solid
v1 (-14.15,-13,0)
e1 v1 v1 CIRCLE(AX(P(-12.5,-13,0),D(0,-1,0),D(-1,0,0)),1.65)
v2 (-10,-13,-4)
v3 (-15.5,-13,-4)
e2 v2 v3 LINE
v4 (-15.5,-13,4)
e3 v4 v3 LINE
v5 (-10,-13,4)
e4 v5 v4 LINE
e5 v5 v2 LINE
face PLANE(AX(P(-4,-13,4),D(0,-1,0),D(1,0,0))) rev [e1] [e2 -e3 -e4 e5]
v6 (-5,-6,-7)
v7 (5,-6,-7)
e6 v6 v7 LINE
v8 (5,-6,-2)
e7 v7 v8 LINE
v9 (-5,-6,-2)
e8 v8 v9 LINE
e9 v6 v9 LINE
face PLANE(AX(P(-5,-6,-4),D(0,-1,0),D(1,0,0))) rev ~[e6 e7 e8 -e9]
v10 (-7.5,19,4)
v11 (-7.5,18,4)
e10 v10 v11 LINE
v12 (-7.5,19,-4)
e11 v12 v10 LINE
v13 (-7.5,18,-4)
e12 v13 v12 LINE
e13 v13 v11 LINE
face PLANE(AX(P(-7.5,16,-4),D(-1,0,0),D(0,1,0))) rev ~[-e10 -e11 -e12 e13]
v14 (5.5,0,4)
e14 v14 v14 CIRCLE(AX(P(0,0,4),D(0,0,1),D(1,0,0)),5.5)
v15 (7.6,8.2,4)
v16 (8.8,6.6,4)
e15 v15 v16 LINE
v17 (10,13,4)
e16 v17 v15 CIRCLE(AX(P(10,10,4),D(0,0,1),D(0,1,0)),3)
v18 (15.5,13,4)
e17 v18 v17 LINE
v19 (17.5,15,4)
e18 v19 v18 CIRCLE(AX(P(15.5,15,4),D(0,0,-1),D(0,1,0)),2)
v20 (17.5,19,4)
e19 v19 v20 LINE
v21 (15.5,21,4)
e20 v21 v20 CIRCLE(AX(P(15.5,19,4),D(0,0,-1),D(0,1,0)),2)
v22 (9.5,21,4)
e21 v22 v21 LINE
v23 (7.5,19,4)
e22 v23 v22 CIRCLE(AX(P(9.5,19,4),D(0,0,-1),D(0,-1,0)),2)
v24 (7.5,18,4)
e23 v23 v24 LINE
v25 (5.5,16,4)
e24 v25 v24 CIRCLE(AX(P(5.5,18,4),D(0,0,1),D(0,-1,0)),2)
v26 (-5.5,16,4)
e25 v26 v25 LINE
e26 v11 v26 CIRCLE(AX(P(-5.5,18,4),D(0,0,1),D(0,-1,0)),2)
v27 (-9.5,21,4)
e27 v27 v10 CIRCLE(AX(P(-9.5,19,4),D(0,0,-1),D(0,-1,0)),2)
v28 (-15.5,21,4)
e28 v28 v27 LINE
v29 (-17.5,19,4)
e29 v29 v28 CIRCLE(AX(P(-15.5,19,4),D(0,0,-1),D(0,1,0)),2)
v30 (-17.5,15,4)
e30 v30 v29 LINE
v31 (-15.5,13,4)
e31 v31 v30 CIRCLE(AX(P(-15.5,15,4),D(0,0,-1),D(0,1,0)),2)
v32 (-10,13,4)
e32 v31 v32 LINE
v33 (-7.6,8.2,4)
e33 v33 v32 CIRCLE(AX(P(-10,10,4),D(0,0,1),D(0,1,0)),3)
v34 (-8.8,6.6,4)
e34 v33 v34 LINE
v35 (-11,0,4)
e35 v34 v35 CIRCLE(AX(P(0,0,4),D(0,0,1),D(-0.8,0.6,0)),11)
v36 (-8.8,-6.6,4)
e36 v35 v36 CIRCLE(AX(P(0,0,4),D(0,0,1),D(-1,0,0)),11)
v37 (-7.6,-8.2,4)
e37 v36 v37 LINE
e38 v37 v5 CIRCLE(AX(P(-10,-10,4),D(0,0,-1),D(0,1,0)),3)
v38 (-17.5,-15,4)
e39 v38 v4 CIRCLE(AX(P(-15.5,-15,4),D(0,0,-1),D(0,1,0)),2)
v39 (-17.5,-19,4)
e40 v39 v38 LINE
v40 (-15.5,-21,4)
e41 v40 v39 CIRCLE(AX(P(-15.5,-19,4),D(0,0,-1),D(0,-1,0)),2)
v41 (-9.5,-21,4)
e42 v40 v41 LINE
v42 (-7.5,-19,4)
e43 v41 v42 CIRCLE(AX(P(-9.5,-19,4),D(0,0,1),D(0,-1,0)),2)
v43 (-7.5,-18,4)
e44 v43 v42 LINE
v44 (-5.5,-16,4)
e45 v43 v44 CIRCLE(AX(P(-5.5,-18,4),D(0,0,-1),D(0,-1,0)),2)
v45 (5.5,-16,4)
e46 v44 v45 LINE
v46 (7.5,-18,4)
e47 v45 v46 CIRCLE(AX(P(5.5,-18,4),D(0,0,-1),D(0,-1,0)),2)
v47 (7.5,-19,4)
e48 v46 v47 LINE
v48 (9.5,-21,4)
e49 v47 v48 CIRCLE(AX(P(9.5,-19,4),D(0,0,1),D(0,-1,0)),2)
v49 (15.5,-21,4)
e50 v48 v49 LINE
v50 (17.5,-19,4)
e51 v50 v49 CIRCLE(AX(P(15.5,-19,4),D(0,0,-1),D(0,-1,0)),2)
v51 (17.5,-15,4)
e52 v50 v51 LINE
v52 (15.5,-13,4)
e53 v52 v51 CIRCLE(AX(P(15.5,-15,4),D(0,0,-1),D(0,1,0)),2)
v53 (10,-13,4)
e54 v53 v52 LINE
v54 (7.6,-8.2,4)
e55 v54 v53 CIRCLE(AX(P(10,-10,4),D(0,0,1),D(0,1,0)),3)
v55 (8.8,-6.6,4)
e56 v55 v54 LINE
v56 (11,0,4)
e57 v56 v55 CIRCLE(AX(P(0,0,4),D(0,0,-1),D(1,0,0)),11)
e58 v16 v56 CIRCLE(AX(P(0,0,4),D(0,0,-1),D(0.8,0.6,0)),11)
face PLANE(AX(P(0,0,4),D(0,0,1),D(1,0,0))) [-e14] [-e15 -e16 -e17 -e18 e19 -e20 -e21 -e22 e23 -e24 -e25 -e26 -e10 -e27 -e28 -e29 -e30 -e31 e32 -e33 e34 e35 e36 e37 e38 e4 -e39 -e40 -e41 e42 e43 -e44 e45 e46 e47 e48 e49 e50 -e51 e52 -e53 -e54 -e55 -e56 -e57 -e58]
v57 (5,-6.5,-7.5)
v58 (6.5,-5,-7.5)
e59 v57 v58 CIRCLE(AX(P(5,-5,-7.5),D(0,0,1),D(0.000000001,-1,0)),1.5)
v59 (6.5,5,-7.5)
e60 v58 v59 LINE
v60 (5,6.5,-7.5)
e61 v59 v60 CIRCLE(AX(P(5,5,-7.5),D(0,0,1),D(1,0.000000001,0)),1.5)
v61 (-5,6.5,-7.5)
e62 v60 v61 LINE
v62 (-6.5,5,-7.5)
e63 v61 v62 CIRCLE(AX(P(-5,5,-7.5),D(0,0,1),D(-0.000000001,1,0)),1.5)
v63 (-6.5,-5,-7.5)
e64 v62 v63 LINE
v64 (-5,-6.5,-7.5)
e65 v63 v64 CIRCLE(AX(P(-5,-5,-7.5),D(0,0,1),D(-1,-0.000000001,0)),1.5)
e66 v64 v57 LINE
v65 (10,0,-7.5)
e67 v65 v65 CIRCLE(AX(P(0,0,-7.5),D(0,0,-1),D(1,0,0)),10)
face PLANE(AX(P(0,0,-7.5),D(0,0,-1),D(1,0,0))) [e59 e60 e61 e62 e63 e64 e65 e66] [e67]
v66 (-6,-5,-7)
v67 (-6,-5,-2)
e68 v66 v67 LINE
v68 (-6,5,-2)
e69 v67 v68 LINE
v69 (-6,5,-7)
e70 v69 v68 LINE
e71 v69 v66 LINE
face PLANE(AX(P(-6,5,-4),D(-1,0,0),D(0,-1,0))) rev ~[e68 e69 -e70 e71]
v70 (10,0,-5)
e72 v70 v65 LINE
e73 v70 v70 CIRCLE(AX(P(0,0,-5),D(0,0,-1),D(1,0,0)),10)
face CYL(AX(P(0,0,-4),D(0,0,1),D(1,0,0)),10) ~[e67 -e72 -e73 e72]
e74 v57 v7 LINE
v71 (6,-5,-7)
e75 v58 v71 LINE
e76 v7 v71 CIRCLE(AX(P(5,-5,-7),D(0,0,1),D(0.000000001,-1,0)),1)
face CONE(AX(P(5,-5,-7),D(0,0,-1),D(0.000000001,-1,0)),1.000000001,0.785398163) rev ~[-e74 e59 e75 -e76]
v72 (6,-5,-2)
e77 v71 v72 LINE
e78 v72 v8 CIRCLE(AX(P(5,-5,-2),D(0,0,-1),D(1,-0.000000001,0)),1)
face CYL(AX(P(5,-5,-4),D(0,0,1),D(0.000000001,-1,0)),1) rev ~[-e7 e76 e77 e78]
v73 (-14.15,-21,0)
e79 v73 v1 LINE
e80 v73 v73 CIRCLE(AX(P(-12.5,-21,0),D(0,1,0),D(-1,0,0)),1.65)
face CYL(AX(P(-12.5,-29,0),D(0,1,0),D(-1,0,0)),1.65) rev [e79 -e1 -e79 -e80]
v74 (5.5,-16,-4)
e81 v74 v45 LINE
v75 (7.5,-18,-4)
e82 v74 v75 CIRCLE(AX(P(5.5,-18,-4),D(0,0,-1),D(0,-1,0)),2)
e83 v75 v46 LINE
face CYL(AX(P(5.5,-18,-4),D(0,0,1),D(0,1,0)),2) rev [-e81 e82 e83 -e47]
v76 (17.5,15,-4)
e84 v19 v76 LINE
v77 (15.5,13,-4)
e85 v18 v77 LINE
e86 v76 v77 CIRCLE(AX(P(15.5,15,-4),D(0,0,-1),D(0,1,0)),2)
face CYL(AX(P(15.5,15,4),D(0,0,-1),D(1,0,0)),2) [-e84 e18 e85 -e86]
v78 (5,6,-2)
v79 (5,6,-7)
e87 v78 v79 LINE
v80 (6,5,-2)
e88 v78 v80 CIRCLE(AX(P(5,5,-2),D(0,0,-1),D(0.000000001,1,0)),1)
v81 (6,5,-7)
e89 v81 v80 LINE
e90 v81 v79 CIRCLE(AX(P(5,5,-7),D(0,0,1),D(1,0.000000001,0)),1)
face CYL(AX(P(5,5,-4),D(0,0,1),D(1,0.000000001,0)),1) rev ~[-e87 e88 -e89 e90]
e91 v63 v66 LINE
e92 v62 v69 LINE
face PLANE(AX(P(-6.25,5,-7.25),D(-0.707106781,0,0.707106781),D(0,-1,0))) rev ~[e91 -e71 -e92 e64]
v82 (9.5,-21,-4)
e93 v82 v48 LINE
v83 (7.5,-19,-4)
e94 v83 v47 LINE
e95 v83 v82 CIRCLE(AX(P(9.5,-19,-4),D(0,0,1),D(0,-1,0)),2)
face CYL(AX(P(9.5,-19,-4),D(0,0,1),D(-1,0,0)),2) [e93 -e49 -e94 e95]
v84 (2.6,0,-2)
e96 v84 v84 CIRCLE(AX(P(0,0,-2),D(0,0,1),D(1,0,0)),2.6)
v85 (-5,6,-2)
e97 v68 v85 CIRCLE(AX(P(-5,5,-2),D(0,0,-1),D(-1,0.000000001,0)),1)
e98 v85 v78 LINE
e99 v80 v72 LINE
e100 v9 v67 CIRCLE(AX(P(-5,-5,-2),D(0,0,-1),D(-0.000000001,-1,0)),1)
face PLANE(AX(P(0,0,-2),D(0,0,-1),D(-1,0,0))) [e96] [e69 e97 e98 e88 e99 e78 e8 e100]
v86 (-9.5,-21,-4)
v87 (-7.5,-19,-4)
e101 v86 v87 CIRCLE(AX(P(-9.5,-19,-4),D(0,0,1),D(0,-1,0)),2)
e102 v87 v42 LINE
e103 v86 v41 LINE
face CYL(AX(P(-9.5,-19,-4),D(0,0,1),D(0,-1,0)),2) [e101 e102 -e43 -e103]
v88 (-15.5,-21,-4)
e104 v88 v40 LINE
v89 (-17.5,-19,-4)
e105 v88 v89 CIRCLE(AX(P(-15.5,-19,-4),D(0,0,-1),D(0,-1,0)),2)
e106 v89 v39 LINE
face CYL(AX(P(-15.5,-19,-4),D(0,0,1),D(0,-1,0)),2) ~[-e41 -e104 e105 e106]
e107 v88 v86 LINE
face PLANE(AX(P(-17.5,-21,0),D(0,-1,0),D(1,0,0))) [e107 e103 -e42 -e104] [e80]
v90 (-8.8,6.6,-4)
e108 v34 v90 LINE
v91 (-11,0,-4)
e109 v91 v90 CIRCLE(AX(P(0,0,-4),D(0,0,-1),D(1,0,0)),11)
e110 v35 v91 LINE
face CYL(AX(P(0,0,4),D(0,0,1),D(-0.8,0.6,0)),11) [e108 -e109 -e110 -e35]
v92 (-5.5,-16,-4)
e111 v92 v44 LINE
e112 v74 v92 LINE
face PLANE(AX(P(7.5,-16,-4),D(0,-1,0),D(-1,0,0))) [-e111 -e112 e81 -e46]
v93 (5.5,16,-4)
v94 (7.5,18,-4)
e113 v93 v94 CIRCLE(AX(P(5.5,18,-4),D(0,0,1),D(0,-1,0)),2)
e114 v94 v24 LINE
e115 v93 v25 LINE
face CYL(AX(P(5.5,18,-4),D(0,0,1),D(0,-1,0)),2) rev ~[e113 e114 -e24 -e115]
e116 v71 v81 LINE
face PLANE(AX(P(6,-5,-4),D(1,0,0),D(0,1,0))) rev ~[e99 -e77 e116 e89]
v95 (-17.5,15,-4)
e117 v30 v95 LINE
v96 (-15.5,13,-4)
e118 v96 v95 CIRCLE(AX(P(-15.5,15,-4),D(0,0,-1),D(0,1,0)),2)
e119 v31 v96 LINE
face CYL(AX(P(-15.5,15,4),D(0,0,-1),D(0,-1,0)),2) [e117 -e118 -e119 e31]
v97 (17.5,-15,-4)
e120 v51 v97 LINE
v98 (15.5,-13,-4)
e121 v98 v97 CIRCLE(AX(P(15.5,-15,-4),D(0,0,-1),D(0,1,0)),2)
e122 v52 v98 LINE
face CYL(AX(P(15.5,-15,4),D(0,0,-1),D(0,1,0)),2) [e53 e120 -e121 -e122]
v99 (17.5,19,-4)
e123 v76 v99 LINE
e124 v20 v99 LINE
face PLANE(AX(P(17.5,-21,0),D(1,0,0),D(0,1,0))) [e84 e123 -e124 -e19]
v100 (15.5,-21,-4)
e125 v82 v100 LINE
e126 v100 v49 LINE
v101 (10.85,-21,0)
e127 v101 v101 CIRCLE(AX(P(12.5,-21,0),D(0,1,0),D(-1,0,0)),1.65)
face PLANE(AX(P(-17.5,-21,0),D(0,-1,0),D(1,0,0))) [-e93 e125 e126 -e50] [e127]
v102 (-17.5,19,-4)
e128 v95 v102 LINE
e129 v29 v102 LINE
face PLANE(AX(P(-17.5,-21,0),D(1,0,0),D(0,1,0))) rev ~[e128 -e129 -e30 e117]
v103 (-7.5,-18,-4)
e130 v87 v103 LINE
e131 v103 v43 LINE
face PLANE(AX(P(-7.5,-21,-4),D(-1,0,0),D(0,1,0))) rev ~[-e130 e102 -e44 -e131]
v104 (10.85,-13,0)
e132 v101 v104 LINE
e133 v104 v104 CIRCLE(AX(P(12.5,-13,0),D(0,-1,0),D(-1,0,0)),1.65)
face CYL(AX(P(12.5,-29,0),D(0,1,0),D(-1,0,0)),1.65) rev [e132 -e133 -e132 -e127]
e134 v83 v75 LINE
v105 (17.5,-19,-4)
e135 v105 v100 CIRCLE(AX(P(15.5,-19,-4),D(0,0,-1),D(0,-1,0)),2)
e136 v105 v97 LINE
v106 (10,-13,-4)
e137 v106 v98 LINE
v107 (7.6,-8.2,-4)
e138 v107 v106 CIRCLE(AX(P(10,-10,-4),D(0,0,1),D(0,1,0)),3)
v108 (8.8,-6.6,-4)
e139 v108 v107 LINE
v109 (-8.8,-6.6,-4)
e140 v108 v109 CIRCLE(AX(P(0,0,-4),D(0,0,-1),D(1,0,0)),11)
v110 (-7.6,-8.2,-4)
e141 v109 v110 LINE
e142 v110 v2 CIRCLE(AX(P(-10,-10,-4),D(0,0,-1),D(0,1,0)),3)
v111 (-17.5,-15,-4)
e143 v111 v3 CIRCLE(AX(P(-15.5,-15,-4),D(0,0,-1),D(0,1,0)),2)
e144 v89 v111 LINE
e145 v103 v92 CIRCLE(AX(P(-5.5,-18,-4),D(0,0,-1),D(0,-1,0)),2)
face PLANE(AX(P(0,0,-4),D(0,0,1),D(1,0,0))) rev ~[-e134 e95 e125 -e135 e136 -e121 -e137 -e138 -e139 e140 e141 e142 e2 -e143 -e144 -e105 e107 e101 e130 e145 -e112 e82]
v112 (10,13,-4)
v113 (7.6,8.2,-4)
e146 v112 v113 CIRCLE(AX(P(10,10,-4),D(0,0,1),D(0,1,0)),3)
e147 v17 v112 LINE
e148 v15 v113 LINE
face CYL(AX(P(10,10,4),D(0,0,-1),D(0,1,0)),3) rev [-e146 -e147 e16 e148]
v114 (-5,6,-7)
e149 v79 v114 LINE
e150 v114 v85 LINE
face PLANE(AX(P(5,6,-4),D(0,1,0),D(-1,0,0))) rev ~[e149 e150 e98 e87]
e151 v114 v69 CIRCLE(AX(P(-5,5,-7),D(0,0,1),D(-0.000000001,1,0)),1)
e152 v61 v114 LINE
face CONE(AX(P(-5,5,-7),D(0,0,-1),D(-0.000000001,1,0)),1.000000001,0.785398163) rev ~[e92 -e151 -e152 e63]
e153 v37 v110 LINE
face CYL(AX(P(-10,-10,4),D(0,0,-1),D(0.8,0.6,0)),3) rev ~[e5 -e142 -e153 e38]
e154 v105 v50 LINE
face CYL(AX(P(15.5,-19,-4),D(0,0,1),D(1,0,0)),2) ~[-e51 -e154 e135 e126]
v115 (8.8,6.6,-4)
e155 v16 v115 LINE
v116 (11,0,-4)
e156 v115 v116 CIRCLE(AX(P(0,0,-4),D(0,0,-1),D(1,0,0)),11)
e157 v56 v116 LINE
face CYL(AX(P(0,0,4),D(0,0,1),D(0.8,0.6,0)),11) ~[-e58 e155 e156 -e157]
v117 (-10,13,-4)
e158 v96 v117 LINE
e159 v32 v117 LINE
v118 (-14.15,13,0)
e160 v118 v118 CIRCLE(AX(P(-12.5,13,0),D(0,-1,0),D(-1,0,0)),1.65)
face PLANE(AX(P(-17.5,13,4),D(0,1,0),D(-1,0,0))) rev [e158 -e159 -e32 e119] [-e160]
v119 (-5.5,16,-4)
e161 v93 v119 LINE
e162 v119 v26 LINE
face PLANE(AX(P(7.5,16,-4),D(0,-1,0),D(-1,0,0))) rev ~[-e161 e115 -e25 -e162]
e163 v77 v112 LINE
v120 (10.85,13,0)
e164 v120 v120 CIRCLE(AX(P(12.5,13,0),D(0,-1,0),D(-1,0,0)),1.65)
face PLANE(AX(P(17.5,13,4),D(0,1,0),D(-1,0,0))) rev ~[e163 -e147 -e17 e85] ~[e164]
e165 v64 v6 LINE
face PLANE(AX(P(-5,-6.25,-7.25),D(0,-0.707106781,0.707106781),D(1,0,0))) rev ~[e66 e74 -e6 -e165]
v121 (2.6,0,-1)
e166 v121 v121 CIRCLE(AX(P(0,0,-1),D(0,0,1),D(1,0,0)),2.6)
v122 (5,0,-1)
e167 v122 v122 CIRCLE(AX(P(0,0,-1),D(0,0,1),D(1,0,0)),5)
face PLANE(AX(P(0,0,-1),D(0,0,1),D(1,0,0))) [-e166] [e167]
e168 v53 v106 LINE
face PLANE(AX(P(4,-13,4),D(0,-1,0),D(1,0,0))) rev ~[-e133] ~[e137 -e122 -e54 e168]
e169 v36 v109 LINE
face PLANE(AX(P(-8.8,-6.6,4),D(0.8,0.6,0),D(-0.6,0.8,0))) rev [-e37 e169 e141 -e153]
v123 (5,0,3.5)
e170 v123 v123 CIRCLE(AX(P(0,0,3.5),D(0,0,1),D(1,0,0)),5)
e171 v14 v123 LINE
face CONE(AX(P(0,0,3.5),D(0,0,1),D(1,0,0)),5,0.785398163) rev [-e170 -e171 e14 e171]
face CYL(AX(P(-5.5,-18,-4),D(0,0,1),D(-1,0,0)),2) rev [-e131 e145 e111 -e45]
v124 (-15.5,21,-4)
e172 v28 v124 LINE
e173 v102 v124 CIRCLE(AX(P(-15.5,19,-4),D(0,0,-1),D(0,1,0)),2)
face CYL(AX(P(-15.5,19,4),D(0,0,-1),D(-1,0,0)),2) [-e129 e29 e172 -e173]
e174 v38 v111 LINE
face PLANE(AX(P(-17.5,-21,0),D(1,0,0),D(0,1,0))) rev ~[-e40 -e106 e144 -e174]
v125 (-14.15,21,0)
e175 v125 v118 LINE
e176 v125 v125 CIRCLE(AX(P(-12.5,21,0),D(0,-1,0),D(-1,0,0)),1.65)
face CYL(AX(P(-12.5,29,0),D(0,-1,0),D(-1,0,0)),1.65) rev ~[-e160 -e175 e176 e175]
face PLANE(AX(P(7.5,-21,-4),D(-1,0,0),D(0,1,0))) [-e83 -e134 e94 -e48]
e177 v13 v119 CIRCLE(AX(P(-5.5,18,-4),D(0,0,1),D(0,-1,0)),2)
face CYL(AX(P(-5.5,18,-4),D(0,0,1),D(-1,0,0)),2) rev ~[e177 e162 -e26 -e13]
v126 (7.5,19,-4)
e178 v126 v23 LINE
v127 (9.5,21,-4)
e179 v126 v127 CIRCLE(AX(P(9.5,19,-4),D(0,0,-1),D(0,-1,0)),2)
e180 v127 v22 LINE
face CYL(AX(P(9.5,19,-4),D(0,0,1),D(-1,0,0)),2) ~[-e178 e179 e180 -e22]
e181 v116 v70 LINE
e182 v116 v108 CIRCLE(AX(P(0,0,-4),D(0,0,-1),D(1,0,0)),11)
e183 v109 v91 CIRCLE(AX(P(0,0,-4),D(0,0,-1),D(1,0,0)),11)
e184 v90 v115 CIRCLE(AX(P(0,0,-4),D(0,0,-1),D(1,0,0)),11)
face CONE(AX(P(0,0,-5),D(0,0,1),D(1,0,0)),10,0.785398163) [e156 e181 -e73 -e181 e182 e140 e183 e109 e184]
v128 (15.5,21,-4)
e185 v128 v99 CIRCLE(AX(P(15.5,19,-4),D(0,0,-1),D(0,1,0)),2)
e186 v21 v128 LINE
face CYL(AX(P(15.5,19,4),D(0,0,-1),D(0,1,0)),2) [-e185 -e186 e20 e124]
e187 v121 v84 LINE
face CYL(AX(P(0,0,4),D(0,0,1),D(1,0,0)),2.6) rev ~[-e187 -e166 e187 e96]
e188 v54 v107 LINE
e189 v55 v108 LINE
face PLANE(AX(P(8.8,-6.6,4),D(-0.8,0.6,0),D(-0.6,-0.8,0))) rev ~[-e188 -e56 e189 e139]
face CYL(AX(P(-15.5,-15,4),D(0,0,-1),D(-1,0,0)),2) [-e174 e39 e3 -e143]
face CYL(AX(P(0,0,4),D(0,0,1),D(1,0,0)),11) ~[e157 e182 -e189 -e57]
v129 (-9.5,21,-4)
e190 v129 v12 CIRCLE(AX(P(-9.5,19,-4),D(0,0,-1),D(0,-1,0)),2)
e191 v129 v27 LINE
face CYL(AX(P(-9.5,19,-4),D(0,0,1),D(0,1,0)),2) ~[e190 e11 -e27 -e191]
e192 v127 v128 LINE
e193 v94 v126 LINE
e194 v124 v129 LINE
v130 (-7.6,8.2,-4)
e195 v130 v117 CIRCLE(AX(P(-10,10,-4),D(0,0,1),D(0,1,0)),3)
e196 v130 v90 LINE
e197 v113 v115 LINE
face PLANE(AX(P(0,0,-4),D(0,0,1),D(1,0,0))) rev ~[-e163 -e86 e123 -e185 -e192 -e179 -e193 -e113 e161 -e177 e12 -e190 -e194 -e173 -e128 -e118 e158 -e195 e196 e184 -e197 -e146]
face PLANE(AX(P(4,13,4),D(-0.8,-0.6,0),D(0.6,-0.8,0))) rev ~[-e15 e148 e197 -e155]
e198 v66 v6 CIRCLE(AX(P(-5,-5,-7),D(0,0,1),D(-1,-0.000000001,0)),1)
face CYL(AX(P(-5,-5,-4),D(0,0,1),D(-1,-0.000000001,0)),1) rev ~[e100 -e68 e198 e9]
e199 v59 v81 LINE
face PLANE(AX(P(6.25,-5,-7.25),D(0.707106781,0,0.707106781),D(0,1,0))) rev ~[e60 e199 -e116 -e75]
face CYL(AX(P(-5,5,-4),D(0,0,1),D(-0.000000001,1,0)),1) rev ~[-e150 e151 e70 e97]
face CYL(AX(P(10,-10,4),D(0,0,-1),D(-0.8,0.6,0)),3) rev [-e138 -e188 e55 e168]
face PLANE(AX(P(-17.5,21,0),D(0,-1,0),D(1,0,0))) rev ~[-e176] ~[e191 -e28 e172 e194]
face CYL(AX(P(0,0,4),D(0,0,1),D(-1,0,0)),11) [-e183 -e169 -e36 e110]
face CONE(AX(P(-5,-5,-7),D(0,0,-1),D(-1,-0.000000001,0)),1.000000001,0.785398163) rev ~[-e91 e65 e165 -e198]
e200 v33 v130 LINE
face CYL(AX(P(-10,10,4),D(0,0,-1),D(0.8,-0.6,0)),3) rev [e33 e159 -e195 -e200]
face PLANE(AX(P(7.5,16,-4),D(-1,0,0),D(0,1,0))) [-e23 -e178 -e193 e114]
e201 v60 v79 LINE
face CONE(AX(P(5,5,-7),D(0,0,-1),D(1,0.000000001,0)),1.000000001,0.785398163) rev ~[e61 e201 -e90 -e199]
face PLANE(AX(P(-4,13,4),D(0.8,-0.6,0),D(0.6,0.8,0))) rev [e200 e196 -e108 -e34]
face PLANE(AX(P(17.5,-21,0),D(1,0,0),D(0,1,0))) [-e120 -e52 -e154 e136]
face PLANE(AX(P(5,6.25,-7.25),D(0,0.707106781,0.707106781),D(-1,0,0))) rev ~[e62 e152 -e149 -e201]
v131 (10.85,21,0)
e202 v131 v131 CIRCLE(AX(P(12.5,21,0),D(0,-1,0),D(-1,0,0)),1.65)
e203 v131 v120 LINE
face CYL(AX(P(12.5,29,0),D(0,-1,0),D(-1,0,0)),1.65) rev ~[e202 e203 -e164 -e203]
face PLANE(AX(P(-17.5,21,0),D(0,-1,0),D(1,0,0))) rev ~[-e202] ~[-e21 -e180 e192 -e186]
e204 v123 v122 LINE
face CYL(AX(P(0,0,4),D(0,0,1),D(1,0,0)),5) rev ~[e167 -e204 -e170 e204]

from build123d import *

# Parameters (mm, degrees)
SKETCH_1_W             = 35
SKETCH_1_H             = 42
EXTRUDE_1_DEPTH        = 4
SKETCH_4_R             = 10
EXTRUDE_2_DEPTH        = 3.5
CUT_EXTRUDE_START      = -2
CUT_EXTRUDE_2_DEPTH    = 2
SKETCH_6_R             = 2.6
CUT_EXTRUDE_3_DEPTH    = 30.656365253
SKETCH_7_R             = 5
CUT_EXTRUDE_4_DEPTH    = 5
CHAMFER_1_SIZE         = 0.5
CHAMFER_2_SIZE         = 0.5
CHAMFER_3_SIZE         = 1
CUT_EXTRUDE_5_DEPTH    = 30.656365253
FILLET_1_R             = 3
HOLE_WIZARD_M4_1_D     = 3.3
HOLE_WIZARD_M4_1_DEPTH = 8
SKETCH_14_W            = 15
SKETCH_14_H            = 5
CUT_EXTRUDE_6_DEPTH    = 29.482450737
FILLET_2_R             = 2
FILLET_3_R             = 2


with BuildPart() as part:
    # 草图1 → 凸台-拉伸1 (new, symmetric)
    with BuildSketch(Plane.XY):
        Rectangle(SKETCH_1_W, SKETCH_1_H)
    extrude(amount=EXTRUDE_1_DEPTH, both=True)

    # 草图4 → 凸台-拉伸2 (add)
    with BuildSketch(Plane(origin=(0, 0, -4), x_dir=(-1, 0, 0), z_dir=(0, 0, -1))):
        with Locations(Location((0, 0, 0), (0, 0, 180))):
            Circle(SKETCH_4_R)
        with BuildLine():
            Line((-5, 6), (5, 6))
            ThreePointArc((5, 6), (5.707106781, 5.707106781), (6, 5))
            Line((6, 5), (6, -5))
            ThreePointArc((6, -5), (5.707106781, -5.707106781), (5, -6))
            Line((5, -6), (-5, -6))
            ThreePointArc((-5, -6), (-5.707106781, -5.707106781), (-6, -5))
            Line((-6, -5), (-6, 5))
            ThreePointArc((-6, 5), (-5.707106781, 5.707106781), (-5, 6))
        make_face(mode=Mode.SUBTRACT)
    extrude(amount=EXTRUDE_2_DEPTH)

    # 草图5 → 切除-拉伸2 (cut)
    with BuildSketch(Plane(origin=(0, 0, -4), x_dir=(-1, 0, 0), z_dir=(0, 0, -1)).offset(CUT_EXTRUDE_START)):
        with BuildLine():
            Line((6, -5), (6, 5))
            ThreePointArc((6, 5), (5.707106781, 5.707106781), (5, 6))
            Line((5, 6), (-5, 6))
            ThreePointArc((-5, 6), (-5.707106781, 5.707106781), (-6, 5))
            Line((-6, 5), (-6, -5))
            ThreePointArc((-6, -5), (-5.707106781, -5.707106781), (-5, -6))
            Line((-5, -6), (5, -6))
            ThreePointArc((5, -6), (5.707106781, -5.707106781), (6, -5))
        make_face()
    extrude(amount=CUT_EXTRUDE_2_DEPTH, mode=Mode.SUBTRACT)

    # 草图6 → 切除-拉伸3 (cut, through all)
    with BuildSketch(Plane.XY.offset(4)):
        Circle(SKETCH_6_R)
    extrude(amount=-CUT_EXTRUDE_3_DEPTH, mode=Mode.SUBTRACT)

    # 草图7 → 切除-拉伸4 (cut)
    with BuildSketch(Plane.XY.offset(4)):
        Circle(SKETCH_7_R)
    extrude(amount=-CUT_EXTRUDE_4_DEPTH, mode=Mode.SUBTRACT)

    # 倒角1
    chamfer_1_edges = [part.edges().sort_by_distance(p)[0] for p in [
        (-5.707106781, 5.707106781, -7.5),
        (0, 6, -7.5),
        (5.707106781, 5.707106781, -7.5),
        (6, 0, -7.5),
        (5.707106781, -5.707106781, -7.5),
        (0, -6, -7.5),
        (-5.707106781, -5.707106781, -7.5),
        (-6, 0, -7.5),
    ]]
    chamfer(chamfer_1_edges, length=CHAMFER_1_SIZE)

    # 倒角2
    chamfer_2_edges = [part.edges().sort_by_distance(p)[0] for p in [
        (-5, 0, 4),
    ]]
    chamfer(chamfer_2_edges, length=CHAMFER_2_SIZE)

    # 倒角3
    chamfer_3_edges = [part.edges().sort_by_distance(p)[0] for p in [
        (-10, 0, -4),
    ]]
    chamfer(chamfer_3_edges, length=CHAMFER_3_SIZE)

    # 草图10 → 切除-拉伸5 (cut, through all)
    with BuildSketch(Plane.XY.offset(4)):
        Polygon((11, -13), (17.5, -13), (17.5, 13), (11, 13), (11, 0), align=None)
        with BuildLine():
            ThreePointArc((8.8, 6.6), (10.435516279, 3.478505426), (11, 0))
            Line((11, 0), (11, 13))
            Line((11, 13), (4, 13))
            Line((4, 13), (8.8, 6.6))
        make_face()
        with BuildLine():
            Line((4, -13), (11, -13))
            Line((11, -13), (11, 0))
            ThreePointArc((11, 0), (10.435516279, -3.478505426), (8.8, -6.6))
            Line((8.8, -6.6), (4, -13))
        make_face()
    cut_extrude_5 = extrude(amount=-CUT_EXTRUDE_5_DEPTH, mode=Mode.SUBTRACT)

    # 镜向1: 切除-拉伸5 across plane
    add(cut_extrude_5.mirror(Plane(origin=(0, 0, 0), x_dir=(0, 0, 1), z_dir=(1, 0, 0))), mode=Mode.SUBTRACT)

    # 圆角1
    fillet_1_edges = [part.edges().sort_by_distance(p)[0] for p in [
        (4, 13, 0),
        (4, -13, 0),
        (-4, -13, 0),
        (-4, 13, 0),
    ]]
    fillet(fillet_1_edges, radius=FILLET_1_R)

    # M4 螺纹孔1
    with Locations(Plane(origin=(0, 21, 0), x_dir=(1, 0, 0), z_dir=(0, 1, 0))):
        with Locations((12.5, 0), (-12.5, 0)):
            hole_wizard_m4_1 = Hole(HOLE_WIZARD_M4_1_D / 2, depth=HOLE_WIZARD_M4_1_DEPTH)

    # 镜向2: M4 螺纹孔1 across plane
    add(hole_wizard_m4_1.mirror(Plane.ZX), mode=Mode.SUBTRACT)

    # 草图14 → 切除-拉伸6 (cut, through all)
    with BuildSketch(Plane(origin=(0, 0, -4), x_dir=(-1, 0, 0), z_dir=(0, 0, -1))):
        with Locations((0, 18.5)):
            Rectangle(SKETCH_14_W, SKETCH_14_H)
        with Locations((0, -18.5)):
            Rectangle(SKETCH_14_W, SKETCH_14_H)
    extrude(amount=-CUT_EXTRUDE_6_DEPTH, mode=Mode.SUBTRACT)

    # 圆角2
    fillet_2_edges = [part.edges().sort_by_distance(p)[0] for p in [
        (17.5, 13, 0),
        (17.5, -13, 0),
        (-17.5, 13, 0),
        (-17.5, -13, 0),
        (17.5, -21, 0),
        (-17.5, -21, 0),
        (-17.5, 21, 0),
        (17.5, 21, 0),
    ]]
    fillet(fillet_2_edges, radius=FILLET_2_R)

    # 圆角3
    fillet_3_edges = [part.edges().sort_by_distance(p)[0] for p in [
        (7.5, 16, 0),
        (7.5, 21, 0),
        (-7.5, 21, 0),
        (-7.5, 16, 0),
        (7.5, -16, 0),
        (-7.5, -16, 0),
        (-7.5, -21, 0),
        (7.5, -21, 0),
    ]]
    fillet(fillet_3_edges, radius=FILLET_3_R)


solid = part.part
